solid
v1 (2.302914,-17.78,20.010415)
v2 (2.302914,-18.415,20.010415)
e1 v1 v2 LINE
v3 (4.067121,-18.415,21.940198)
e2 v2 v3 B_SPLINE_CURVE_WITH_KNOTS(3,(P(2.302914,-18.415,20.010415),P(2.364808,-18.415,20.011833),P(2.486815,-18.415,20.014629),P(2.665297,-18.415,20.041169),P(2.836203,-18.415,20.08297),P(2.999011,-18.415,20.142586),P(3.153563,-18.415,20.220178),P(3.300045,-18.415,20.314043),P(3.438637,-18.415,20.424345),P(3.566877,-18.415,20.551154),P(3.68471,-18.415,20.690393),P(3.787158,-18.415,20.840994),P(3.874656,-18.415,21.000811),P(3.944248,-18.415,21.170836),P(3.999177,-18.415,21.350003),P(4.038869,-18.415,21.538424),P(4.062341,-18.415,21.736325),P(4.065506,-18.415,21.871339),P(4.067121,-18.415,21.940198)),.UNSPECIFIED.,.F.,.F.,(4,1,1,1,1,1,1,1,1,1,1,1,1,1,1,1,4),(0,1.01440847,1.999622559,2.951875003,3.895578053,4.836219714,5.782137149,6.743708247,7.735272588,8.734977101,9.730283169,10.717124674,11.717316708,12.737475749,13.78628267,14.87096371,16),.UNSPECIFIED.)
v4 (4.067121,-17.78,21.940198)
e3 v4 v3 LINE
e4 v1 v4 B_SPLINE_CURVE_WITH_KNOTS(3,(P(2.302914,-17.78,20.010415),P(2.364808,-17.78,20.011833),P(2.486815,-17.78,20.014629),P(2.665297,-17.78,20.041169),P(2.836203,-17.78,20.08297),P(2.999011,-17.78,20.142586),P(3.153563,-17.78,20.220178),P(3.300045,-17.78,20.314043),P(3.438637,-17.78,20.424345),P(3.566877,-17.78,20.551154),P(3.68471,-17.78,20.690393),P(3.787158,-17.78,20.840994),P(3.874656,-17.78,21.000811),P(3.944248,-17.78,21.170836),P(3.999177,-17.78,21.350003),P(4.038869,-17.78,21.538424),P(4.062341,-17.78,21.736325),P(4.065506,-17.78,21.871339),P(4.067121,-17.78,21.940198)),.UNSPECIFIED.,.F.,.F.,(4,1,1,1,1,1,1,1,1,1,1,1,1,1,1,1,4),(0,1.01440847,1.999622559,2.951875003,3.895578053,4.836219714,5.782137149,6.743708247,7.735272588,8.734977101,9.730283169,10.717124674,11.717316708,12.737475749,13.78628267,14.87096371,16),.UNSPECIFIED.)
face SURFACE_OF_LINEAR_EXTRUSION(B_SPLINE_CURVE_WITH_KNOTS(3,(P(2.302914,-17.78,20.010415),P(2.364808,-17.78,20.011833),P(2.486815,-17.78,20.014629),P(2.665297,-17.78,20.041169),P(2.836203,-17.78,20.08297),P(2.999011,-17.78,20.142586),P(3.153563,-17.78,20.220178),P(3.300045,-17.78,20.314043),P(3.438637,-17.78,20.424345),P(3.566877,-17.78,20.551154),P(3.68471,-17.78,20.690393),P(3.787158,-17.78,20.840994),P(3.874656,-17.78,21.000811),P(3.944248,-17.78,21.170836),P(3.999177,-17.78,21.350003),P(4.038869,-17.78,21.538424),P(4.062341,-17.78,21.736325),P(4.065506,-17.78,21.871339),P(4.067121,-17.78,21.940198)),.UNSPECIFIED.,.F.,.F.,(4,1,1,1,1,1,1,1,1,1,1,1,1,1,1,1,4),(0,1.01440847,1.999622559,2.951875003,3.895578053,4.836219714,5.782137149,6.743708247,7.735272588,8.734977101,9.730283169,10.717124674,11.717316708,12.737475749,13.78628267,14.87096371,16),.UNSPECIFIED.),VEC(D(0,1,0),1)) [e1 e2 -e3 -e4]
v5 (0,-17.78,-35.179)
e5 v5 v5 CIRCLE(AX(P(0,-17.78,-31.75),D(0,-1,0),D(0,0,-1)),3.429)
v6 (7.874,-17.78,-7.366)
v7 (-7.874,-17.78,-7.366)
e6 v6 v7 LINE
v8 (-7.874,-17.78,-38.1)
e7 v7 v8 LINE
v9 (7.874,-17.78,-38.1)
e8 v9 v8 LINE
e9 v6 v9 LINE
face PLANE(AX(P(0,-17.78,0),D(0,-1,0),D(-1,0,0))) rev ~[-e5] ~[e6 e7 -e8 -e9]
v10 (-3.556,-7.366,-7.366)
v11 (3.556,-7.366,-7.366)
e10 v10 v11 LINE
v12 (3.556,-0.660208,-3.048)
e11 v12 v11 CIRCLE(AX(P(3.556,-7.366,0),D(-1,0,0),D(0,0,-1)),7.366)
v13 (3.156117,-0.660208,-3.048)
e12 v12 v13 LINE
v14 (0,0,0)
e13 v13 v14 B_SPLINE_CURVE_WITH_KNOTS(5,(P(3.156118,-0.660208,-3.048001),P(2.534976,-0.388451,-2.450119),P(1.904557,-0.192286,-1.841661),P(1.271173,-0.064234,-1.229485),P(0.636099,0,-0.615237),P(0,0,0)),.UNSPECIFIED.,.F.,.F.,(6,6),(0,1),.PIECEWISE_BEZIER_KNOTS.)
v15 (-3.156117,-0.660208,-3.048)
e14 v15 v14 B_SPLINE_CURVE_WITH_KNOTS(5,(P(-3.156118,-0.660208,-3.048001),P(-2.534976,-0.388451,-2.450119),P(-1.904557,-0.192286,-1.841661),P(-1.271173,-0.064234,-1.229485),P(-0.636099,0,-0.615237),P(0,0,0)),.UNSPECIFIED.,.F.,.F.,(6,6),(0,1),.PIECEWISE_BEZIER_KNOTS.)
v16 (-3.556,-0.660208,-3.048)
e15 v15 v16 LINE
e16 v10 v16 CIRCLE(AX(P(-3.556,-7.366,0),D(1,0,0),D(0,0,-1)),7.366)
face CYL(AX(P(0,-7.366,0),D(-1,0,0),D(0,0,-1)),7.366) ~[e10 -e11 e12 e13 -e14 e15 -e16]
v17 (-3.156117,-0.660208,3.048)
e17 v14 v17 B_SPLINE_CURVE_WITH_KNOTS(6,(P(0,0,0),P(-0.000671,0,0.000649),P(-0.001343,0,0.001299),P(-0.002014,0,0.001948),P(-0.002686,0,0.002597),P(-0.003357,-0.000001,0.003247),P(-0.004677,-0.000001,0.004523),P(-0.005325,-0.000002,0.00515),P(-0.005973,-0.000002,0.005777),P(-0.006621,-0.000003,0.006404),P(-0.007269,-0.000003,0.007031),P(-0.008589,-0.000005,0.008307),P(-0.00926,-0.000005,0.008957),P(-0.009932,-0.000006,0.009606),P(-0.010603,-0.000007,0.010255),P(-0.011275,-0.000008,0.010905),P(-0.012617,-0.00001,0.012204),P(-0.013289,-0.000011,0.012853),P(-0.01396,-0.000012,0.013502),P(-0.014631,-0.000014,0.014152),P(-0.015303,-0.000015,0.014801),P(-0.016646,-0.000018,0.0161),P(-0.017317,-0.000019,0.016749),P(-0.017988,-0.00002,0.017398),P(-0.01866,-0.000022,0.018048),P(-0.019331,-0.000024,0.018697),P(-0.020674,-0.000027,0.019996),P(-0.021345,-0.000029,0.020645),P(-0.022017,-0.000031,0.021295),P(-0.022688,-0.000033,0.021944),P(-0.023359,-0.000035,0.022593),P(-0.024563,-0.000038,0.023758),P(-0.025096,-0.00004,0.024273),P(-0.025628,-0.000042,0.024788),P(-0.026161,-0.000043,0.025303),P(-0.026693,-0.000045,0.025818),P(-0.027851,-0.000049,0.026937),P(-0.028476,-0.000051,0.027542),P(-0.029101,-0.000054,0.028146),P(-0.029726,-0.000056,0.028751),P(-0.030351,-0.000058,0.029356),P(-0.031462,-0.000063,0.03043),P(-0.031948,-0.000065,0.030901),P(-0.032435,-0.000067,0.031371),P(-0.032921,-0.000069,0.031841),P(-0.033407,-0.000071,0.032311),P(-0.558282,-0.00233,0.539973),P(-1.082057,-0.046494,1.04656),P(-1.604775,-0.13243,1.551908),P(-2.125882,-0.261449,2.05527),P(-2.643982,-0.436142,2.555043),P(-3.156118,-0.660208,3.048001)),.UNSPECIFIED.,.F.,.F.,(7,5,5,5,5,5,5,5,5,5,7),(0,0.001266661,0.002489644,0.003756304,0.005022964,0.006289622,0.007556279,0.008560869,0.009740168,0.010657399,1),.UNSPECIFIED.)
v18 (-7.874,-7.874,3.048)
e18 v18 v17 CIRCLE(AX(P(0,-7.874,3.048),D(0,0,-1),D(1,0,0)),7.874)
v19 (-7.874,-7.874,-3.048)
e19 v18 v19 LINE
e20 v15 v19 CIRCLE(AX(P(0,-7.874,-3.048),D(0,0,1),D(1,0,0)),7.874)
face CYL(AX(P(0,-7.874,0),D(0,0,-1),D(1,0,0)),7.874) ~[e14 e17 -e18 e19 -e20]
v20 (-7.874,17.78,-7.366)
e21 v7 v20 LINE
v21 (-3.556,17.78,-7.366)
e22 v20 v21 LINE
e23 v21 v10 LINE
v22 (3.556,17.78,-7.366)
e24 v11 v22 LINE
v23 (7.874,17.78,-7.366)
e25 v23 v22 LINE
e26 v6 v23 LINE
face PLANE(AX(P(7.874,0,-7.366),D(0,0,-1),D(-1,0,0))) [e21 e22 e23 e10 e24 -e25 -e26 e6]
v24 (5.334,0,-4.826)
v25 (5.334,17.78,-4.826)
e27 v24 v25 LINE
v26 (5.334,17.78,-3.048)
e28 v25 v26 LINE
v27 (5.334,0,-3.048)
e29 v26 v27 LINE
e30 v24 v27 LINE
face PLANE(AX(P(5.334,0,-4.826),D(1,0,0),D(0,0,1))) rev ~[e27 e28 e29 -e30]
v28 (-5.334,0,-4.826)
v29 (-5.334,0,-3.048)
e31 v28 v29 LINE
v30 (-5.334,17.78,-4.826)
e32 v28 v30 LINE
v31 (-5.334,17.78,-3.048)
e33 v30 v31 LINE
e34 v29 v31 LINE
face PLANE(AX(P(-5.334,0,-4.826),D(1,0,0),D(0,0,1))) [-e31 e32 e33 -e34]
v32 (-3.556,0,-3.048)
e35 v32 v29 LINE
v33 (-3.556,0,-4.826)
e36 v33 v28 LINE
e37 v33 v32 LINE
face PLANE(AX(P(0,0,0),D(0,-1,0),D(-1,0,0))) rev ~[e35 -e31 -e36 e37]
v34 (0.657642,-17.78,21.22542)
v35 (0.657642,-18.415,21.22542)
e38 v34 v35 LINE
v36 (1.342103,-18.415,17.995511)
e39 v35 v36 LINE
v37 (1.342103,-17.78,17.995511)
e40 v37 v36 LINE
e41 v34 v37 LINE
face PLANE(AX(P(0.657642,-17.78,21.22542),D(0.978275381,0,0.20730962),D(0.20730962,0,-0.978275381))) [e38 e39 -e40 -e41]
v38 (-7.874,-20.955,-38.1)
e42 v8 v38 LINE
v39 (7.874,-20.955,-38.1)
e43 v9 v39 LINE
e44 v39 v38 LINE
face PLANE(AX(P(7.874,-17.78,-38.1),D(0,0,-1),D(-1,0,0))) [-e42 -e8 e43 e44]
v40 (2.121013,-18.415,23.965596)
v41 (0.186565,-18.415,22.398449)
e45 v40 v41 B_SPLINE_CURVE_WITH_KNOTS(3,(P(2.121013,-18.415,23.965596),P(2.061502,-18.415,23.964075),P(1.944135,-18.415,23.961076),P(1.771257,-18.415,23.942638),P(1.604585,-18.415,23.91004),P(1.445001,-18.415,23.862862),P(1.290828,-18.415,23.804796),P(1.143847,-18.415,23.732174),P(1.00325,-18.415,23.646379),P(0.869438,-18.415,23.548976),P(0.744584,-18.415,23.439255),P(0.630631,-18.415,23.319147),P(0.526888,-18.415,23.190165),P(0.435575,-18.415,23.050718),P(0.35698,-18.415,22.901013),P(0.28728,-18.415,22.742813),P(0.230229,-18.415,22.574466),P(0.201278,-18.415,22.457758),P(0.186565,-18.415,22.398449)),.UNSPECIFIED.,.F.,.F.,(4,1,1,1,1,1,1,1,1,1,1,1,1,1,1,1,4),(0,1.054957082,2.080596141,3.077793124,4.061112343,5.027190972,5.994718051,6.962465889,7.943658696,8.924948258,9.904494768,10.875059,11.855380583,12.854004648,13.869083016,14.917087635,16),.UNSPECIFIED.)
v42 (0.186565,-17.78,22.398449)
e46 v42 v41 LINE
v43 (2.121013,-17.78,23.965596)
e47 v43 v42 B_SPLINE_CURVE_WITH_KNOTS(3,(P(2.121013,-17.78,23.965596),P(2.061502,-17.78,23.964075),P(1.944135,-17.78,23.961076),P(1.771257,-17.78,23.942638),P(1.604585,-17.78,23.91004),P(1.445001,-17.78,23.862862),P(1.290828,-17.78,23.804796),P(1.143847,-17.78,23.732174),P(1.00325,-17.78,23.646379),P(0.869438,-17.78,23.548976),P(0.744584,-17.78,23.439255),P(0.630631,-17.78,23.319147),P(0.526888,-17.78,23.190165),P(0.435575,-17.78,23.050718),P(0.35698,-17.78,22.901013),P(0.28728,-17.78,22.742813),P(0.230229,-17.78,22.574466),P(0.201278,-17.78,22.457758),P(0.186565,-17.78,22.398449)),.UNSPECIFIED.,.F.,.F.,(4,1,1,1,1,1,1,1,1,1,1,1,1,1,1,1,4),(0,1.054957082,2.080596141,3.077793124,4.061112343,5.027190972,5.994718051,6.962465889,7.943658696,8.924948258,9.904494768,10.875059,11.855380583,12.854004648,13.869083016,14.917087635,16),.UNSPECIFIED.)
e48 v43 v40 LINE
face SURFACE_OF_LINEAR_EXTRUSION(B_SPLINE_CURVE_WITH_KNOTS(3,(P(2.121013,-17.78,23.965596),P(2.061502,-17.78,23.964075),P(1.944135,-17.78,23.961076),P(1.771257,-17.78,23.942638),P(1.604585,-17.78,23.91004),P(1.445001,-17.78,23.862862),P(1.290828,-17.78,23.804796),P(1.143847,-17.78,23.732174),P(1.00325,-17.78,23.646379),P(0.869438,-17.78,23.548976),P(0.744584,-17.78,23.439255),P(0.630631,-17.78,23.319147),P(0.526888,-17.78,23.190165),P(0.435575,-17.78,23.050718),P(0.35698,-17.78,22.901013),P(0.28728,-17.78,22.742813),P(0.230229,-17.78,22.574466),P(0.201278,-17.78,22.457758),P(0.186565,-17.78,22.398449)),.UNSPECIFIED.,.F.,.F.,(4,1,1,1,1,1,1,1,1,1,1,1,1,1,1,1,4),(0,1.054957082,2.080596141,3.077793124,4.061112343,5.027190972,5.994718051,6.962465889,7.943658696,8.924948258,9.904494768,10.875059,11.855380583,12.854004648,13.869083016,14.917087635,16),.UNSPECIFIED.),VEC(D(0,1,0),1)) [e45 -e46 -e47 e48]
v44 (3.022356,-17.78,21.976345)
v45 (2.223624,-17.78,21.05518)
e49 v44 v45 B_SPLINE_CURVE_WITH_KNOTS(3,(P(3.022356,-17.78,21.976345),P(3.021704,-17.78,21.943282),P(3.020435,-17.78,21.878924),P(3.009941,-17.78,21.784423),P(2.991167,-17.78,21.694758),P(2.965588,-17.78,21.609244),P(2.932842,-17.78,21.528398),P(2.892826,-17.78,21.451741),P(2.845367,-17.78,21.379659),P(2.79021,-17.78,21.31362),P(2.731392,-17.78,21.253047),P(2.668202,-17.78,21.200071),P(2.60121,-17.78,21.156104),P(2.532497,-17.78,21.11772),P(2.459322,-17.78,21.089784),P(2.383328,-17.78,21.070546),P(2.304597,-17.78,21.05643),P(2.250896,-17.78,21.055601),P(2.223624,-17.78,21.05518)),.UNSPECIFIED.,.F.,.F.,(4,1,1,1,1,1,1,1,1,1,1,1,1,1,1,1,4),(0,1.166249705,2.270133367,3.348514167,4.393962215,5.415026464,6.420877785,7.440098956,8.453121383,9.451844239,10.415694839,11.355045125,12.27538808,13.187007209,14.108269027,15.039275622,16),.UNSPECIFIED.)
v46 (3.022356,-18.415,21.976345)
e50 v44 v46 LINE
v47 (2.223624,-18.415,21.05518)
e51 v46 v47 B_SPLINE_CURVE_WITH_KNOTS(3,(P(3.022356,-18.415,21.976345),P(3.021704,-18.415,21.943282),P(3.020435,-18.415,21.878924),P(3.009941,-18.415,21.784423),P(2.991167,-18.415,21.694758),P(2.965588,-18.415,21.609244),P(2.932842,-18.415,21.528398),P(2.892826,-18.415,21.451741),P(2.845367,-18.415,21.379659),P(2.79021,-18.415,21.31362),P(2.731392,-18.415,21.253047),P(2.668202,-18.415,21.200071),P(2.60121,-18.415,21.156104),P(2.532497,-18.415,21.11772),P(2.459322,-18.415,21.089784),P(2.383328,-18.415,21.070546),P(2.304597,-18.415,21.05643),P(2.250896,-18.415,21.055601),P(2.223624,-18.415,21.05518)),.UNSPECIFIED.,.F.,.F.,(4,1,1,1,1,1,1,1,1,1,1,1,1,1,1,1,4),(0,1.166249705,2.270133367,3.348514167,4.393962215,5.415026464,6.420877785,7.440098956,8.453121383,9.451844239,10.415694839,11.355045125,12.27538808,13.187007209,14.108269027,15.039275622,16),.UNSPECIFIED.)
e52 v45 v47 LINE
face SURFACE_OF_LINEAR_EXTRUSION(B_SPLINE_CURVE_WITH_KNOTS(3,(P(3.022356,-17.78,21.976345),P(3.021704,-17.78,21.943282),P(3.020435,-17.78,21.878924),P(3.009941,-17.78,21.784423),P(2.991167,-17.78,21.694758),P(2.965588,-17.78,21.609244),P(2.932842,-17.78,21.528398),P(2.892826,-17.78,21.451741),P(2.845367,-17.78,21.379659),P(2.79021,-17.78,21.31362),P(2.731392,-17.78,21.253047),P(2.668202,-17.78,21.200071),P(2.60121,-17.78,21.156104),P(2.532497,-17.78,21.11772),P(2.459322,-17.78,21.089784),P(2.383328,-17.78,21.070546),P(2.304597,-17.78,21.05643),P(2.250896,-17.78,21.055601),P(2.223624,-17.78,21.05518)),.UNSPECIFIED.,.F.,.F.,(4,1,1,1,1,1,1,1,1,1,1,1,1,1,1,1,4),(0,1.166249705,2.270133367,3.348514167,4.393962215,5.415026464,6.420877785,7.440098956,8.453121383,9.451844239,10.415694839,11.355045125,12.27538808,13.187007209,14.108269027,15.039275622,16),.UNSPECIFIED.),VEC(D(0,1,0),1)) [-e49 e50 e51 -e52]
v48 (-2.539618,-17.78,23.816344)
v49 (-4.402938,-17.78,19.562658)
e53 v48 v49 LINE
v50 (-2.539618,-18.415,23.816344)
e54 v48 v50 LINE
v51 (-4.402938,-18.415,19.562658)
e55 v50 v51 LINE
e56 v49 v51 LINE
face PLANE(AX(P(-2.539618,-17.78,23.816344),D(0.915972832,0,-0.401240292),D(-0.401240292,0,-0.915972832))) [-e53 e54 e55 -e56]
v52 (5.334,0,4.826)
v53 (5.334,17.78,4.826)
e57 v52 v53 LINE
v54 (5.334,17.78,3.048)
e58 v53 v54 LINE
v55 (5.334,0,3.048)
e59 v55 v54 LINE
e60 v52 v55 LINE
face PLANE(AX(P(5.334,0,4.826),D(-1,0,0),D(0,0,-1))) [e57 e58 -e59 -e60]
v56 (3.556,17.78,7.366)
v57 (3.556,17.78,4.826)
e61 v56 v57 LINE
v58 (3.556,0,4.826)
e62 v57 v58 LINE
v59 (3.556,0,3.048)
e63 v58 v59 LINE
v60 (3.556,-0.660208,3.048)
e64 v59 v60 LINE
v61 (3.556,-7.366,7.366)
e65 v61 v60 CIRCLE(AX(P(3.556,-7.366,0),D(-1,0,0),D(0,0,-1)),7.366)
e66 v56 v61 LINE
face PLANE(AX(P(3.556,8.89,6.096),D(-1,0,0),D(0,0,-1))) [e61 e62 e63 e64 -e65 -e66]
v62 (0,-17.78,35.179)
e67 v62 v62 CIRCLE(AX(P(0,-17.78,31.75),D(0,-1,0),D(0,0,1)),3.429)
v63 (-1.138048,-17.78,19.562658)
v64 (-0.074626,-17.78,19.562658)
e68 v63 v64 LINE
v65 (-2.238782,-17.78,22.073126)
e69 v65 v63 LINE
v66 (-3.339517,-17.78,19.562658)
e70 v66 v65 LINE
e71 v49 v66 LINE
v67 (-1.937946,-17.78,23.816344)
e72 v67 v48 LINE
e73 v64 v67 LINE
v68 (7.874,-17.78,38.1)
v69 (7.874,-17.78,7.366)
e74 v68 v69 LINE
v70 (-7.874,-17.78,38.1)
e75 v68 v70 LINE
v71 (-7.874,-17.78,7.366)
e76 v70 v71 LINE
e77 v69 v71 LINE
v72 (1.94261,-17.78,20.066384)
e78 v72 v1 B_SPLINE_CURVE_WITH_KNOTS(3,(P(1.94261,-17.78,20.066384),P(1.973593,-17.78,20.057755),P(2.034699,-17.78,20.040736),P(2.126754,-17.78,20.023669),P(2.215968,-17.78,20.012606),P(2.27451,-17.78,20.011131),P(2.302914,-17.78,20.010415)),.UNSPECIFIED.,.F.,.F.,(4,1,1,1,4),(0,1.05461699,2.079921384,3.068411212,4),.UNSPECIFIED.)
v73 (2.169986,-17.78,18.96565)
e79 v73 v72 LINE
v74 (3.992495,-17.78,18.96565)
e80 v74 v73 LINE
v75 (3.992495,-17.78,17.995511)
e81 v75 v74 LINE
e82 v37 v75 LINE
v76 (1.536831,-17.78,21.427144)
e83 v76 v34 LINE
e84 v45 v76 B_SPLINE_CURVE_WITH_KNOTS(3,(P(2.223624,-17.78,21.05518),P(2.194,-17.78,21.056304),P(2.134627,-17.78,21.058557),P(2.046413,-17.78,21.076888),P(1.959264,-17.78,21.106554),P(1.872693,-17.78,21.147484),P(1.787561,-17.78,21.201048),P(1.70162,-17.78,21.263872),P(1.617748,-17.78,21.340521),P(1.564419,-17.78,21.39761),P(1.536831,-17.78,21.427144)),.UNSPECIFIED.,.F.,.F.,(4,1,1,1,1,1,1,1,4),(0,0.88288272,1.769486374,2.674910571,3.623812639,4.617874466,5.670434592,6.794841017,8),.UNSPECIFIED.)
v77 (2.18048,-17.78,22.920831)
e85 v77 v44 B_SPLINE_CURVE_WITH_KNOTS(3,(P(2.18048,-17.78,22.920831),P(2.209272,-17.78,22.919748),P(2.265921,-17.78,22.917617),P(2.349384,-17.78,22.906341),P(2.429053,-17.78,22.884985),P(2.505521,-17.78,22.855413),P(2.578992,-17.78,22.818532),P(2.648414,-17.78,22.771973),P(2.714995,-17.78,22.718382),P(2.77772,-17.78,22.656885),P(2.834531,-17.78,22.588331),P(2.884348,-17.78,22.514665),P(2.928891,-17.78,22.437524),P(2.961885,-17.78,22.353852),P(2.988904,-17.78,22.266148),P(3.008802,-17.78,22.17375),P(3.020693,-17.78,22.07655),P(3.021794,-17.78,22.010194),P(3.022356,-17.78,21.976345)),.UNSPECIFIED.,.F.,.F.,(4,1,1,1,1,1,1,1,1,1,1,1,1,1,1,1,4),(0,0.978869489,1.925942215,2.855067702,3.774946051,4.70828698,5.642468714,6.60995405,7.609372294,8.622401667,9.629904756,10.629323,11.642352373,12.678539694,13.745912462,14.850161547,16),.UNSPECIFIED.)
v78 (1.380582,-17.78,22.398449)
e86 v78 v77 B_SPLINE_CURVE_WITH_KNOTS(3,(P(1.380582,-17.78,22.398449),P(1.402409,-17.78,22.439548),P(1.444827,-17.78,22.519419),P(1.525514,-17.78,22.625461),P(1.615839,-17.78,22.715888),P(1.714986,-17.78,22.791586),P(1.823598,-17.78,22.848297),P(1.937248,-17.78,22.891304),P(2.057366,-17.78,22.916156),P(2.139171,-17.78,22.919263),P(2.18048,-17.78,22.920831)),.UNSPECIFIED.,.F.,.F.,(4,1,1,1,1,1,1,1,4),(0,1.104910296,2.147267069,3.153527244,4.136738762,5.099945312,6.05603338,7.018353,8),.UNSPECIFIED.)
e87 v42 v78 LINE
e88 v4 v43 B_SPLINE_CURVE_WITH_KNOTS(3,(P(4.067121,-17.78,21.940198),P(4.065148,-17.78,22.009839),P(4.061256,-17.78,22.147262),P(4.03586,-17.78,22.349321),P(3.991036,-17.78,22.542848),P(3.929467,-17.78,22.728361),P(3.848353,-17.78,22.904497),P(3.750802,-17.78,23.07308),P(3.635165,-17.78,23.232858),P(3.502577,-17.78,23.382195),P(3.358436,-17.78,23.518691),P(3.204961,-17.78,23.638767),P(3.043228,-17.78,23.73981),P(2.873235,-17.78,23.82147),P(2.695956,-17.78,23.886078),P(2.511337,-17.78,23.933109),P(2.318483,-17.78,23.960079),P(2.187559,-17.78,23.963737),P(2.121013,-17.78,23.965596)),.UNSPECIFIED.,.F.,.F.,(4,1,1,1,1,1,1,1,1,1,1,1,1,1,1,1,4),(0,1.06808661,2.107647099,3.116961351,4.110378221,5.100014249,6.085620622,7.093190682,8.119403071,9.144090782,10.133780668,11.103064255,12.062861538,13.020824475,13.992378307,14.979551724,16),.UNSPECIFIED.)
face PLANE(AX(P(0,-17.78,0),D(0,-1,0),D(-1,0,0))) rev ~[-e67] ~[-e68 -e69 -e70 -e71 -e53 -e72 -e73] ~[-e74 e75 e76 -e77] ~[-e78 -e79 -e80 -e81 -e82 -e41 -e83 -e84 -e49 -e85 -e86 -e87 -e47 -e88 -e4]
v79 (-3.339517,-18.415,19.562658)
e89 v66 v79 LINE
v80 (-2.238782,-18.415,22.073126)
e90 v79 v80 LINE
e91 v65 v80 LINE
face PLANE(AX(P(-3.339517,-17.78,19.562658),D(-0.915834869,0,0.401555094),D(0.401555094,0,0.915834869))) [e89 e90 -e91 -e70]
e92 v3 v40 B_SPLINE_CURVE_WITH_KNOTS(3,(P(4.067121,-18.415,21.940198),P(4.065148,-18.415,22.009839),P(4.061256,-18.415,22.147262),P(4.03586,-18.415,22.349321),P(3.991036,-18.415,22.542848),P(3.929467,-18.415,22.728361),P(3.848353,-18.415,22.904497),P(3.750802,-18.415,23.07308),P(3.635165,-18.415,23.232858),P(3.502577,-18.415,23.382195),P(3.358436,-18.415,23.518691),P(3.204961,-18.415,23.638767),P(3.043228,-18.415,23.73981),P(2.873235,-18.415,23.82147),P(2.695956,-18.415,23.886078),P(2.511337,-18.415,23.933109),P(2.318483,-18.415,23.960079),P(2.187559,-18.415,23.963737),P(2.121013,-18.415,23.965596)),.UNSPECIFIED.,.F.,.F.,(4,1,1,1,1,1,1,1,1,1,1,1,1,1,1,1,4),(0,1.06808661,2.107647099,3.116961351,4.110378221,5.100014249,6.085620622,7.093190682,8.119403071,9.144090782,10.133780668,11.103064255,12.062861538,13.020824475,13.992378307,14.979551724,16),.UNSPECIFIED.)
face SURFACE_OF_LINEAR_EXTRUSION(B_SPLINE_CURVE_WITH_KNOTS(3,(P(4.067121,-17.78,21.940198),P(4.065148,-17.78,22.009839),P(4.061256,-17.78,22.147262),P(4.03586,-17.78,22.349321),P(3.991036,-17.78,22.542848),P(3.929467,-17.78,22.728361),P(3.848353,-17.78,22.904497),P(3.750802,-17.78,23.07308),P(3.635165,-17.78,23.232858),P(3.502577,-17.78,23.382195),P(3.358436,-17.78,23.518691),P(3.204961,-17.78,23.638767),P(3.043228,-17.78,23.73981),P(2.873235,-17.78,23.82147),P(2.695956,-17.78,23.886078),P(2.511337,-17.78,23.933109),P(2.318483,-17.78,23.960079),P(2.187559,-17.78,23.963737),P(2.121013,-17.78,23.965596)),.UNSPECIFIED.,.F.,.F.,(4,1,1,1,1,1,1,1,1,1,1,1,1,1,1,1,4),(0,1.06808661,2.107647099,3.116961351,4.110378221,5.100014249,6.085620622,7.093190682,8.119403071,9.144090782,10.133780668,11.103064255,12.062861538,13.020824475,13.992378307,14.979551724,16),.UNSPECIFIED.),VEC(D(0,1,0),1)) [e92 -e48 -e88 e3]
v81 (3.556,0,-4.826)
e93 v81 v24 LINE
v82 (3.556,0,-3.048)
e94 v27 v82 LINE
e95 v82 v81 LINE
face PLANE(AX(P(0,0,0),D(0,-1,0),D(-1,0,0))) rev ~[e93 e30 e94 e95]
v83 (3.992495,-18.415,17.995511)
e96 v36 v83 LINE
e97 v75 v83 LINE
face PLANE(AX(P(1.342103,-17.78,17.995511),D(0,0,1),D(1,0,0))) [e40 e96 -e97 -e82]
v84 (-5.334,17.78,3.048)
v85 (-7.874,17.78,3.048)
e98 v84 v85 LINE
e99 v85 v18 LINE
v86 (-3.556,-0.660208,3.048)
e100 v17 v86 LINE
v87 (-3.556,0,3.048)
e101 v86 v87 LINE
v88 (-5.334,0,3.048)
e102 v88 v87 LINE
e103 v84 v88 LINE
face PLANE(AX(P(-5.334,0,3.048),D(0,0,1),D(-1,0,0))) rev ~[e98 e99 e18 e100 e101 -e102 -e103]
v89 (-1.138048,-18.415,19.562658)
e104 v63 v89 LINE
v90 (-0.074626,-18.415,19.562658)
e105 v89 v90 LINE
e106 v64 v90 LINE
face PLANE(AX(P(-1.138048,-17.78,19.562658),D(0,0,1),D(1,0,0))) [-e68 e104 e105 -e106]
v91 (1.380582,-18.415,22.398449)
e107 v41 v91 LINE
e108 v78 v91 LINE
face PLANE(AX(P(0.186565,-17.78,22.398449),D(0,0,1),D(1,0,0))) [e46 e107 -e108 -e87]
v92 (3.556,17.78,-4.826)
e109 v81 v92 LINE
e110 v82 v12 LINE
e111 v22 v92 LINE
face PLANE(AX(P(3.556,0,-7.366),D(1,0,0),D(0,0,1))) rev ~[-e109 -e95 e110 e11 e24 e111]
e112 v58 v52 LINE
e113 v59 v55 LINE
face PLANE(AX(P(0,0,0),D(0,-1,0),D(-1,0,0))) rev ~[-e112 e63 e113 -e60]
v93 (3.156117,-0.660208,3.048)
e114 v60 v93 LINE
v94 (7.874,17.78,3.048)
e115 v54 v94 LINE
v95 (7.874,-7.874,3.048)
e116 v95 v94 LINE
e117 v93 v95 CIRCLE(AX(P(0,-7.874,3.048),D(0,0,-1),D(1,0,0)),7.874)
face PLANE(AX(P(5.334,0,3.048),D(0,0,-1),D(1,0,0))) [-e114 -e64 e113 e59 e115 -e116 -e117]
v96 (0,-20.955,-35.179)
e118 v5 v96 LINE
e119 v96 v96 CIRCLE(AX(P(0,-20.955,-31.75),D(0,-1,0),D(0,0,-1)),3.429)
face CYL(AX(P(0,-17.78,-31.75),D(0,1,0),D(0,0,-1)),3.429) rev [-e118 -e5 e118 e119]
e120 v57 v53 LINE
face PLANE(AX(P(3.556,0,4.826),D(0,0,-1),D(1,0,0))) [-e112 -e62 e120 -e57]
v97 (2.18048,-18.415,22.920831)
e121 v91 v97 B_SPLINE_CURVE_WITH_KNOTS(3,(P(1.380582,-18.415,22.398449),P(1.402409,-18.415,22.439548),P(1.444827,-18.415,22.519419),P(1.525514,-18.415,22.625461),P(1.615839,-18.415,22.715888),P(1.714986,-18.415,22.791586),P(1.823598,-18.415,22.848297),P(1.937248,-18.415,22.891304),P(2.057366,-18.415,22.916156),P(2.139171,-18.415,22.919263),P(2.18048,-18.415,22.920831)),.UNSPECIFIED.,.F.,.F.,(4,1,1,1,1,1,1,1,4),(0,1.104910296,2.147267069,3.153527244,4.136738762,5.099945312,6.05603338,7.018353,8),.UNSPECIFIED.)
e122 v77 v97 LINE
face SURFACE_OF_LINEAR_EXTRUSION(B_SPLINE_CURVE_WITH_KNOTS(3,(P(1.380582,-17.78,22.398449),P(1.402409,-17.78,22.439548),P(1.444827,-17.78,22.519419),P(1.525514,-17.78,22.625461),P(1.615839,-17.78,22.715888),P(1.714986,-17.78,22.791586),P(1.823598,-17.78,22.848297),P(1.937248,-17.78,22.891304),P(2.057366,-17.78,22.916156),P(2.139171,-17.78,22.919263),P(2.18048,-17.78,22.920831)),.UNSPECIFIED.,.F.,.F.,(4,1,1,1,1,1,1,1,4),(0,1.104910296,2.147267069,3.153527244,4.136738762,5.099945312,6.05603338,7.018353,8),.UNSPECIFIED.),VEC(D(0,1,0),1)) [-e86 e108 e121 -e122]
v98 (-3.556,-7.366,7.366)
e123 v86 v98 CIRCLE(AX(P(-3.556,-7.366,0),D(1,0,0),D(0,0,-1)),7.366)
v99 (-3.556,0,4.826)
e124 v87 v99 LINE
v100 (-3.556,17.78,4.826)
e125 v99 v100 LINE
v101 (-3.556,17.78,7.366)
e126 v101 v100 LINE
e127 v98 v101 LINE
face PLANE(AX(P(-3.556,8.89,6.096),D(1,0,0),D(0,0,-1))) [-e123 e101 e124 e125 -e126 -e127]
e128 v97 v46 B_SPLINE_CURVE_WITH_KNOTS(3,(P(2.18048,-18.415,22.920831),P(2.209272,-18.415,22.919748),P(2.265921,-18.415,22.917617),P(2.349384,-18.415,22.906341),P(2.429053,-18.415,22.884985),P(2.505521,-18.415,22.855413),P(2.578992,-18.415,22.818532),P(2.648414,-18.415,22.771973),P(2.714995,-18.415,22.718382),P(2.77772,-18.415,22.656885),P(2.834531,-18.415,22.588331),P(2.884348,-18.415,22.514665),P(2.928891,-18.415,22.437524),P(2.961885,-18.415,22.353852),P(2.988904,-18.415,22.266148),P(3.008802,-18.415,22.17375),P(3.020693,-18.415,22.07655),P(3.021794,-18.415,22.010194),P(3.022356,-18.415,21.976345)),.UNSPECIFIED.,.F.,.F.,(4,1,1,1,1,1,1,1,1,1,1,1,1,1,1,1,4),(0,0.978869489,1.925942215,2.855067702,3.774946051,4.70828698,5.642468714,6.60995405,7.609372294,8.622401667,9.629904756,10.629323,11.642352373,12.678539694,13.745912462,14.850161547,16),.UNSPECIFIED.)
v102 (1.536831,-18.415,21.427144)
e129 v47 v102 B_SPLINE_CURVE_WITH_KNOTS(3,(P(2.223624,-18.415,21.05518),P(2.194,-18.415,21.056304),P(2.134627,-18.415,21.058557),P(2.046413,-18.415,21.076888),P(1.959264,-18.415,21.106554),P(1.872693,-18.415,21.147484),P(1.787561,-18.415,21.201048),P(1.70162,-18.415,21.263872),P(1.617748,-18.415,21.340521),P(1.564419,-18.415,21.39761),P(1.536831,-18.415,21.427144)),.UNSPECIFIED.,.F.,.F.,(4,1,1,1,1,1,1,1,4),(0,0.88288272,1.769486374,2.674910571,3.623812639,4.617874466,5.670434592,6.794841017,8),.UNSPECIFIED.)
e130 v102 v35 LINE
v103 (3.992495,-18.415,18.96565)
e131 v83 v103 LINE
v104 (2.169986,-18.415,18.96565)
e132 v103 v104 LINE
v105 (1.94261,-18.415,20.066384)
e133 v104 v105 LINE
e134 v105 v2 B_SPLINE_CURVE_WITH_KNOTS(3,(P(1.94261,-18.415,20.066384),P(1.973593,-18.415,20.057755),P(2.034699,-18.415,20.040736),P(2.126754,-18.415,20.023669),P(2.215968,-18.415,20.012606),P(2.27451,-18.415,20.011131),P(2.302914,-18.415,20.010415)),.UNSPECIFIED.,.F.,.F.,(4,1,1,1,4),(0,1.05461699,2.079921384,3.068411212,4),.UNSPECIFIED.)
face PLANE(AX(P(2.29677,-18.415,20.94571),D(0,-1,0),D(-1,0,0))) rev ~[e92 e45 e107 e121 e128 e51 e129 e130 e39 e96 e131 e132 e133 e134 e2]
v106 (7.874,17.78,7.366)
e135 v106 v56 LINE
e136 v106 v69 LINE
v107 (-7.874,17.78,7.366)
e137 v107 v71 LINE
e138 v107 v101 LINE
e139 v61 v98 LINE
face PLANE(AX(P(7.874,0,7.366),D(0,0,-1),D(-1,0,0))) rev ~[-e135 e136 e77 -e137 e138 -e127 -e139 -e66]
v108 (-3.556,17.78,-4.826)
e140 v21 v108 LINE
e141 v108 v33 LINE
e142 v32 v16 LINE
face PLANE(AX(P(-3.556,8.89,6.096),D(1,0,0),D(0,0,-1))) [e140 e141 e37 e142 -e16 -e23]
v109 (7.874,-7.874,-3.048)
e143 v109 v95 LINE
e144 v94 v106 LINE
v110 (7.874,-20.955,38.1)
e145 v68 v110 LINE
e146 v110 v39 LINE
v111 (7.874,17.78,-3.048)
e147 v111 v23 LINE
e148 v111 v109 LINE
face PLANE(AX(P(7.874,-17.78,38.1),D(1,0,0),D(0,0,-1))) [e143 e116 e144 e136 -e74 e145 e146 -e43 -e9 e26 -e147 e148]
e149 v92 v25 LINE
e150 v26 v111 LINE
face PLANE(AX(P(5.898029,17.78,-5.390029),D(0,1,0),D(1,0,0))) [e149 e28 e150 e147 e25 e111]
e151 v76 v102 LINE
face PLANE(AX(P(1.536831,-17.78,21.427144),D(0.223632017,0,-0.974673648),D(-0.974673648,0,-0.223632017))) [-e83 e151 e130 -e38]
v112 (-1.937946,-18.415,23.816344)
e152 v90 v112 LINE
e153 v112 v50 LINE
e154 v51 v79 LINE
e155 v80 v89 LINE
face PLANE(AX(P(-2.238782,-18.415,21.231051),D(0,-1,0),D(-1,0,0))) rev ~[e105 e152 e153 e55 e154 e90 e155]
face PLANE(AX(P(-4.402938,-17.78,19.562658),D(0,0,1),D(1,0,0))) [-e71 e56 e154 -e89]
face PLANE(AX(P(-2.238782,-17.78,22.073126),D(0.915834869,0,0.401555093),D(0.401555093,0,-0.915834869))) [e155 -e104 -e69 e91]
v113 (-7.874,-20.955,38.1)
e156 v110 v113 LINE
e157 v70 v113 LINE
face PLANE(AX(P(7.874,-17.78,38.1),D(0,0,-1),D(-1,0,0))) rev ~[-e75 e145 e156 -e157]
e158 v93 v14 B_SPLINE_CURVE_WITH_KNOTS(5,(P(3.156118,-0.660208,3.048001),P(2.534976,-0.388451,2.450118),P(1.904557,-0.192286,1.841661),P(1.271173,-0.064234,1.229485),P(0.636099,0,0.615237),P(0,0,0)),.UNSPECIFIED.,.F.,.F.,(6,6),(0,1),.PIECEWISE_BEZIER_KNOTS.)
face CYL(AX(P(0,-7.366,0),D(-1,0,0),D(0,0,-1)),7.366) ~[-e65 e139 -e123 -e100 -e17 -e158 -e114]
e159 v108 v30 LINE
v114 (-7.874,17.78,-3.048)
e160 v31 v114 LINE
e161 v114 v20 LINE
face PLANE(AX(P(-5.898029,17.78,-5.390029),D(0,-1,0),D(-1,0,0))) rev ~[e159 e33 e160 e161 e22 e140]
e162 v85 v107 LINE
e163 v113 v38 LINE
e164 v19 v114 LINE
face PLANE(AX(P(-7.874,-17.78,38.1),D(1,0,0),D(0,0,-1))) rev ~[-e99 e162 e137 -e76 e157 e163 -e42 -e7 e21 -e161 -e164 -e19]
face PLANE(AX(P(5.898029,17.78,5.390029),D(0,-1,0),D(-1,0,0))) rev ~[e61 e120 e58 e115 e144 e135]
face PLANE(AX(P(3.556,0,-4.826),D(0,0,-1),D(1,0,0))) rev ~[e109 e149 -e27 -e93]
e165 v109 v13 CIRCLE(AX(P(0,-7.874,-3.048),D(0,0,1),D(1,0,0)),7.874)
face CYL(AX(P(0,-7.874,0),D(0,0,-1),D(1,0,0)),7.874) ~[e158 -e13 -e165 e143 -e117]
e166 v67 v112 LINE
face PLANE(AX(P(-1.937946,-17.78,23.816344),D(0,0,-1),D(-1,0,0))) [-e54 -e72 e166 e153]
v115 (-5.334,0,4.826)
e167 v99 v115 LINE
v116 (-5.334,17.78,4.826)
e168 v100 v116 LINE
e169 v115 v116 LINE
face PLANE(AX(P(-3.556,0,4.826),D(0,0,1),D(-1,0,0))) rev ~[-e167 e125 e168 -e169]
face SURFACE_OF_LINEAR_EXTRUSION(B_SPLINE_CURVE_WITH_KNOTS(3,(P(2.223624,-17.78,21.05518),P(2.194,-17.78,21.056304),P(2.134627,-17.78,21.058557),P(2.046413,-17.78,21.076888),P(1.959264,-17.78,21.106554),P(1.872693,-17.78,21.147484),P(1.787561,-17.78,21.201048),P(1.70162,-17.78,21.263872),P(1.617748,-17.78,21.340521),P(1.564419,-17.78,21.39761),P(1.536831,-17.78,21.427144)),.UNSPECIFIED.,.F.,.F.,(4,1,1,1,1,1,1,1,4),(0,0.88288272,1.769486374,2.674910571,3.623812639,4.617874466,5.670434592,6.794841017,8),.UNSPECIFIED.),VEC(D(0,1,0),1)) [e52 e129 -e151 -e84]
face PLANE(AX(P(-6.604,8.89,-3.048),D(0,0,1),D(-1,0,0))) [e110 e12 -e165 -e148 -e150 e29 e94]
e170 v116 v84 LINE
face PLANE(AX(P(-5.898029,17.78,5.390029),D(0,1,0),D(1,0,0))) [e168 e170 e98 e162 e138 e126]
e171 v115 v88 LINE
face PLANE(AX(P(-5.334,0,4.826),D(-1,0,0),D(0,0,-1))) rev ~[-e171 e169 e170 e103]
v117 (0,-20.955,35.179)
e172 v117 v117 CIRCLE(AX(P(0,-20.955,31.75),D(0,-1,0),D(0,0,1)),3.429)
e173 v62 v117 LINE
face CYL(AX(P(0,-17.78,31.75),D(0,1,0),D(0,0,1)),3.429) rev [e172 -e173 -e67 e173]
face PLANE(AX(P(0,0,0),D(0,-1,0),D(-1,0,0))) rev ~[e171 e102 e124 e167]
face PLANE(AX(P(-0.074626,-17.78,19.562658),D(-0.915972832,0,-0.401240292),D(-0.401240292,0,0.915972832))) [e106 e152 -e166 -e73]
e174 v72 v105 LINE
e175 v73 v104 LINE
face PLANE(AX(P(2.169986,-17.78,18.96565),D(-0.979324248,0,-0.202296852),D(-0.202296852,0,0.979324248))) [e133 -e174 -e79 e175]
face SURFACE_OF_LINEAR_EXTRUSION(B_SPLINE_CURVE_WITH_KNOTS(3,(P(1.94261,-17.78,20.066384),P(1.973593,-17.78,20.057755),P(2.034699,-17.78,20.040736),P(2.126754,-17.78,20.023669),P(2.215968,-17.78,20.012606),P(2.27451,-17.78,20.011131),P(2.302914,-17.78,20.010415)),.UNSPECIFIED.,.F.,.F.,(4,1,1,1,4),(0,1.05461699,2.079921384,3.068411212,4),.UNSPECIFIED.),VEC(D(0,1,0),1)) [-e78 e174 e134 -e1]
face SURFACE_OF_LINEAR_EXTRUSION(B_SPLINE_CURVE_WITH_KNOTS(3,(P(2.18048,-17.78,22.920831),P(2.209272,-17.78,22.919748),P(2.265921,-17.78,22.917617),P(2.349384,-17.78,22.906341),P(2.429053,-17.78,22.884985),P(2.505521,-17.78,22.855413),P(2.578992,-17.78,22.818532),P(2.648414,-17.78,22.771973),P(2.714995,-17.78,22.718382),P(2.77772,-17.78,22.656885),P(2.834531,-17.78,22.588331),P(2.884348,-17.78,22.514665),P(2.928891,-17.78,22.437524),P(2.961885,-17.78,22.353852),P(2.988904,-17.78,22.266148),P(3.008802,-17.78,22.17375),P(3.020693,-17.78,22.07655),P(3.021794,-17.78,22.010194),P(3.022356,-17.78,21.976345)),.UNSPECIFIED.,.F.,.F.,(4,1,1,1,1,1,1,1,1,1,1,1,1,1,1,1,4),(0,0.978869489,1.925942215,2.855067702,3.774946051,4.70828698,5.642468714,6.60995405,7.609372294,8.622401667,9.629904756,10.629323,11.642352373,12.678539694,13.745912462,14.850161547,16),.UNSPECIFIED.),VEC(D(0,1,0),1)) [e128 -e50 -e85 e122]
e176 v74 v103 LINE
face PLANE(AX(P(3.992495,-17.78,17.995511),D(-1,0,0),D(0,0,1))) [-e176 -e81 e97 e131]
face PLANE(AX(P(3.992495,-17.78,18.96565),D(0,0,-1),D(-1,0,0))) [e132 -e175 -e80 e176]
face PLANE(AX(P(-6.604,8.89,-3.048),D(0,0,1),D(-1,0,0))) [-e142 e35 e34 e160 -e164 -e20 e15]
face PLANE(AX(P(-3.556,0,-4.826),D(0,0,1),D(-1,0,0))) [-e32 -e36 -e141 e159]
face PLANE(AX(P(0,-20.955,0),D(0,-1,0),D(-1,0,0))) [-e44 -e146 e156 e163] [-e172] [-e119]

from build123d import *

# Parameters (mm, degrees)
BOSS_EXTRUDE1_DEPTH            = 17.78
BOSS_EXTRUDE1_2_DEPTH          = 17.78
BOSS_EXTRUDE1_3_DEPTH          = 17.78
BOSS_EXTRUDE1_4_DEPTH          = 17.78
SKETCH2_W                      = 15.748
SKETCH2_H                      = 14.732
BOSS_EXTRUDE2_DEPTH            = 17.78
SKETCH3_W                      = 15.748
SKETCH3_H                      = 76.2
SKETCH3_R                      = 3.429
BOSS_EXTRUDE3_DEPTH            = 3.175
CUT_EXTRUDE3_DEPTH             = 0.635
CUT_EXTRUDE4_REACH             = 46.19
CUT_EXTRUDE4_DIRECTION_2_REACH = 46.19
CUT_EXTRUDE5_REACH             = 46.19
CUT_EXTRUDE5_DIRECTION_2_REACH = 46.19


with BuildPart() as part:
    # Sketch1 → Boss-Extrude1 (new body)
    with BuildSketch(Plane(origin=(0, 0, 0), x_dir=(1, 0, 0), z_dir=(0, 1, 0))):
        Polygon((-5.334, 4.826), (-5.334, 3.048), (-7.874, 3.048), (-7.874, 7.366), (-3.556, 7.366), (-3.556, 4.826), align=None)
    extrude(amount=BOSS_EXTRUDE1_DEPTH)



with BuildPart() as body_2:
    # Sketch1 → Boss-Extrude1 2 (new body)
    with BuildSketch(Plane(origin=(0, 0, 0), x_dir=(1, 0, 0), z_dir=(0, 1, 0))):
        Polygon((7.874, 3.048), (7.874, 7.366), (3.556, 7.366), (3.556, 4.826), (5.334, 4.826), (5.334, 3.048), align=None)
    extrude(amount=BOSS_EXTRUDE1_2_DEPTH)


with BuildPart() as body_3:
    # Sketch1 → Boss-Extrude1 3 (new body)
    with BuildSketch(Plane(origin=(0, 0, 0), x_dir=(1, 0, 0), z_dir=(0, 1, 0))):
        Polygon((5.334, -3.048), (7.874, -3.048), (7.874, -7.366), (3.556, -7.366), (3.556, -4.826), (5.334, -4.826), align=None)
    extrude(amount=BOSS_EXTRUDE1_3_DEPTH)


with BuildPart() as body_4:
    # Sketch1 → Boss-Extrude1 4 (new body)
    with BuildSketch(Plane(origin=(0, 0, 0), x_dir=(1, 0, 0), z_dir=(0, 1, 0))):
        Polygon((-5.334, -3.048), (-7.874, -3.048), (-7.874, -7.366), (-3.556, -7.366), (-3.556, -4.826), (-5.334, -4.826), align=None)
    extrude(amount=BOSS_EXTRUDE1_4_DEPTH)


with BuildPart() as part_1:
    add(part.part)

    add(body_2.part)  # Boss-Extrude2 merges body 2

    add(body_3.part)  # Boss-Extrude2 merges body 3

    add(body_4.part)  # Boss-Extrude2 merges body 4
    # Sketch2 → Boss-Extrude2 (add)
    with BuildSketch(Plane(origin=(0, 0, 0), x_dir=(-1, 0, 0), z_dir=(0, -1, 0))):
        Rectangle(SKETCH2_W, SKETCH2_H)
    extrude(amount=BOSS_EXTRUDE2_DEPTH)

    # Sketch3 → Boss-Extrude3 (add)
    with BuildSketch(Plane(origin=(0, -17.78, 0), x_dir=(-1, 0, 0), z_dir=(0, -1, 0))):
        Rectangle(SKETCH3_W, SKETCH3_H)
        with Locations(Location((0, 31.75, 0), (0, 0, 90))):
            Circle(SKETCH3_R, mode=Mode.SUBTRACT)
        with Locations(Location((0, -31.75, 0), (0, 0, 270))):
            Circle(SKETCH3_R, mode=Mode.SUBTRACT)
    extrude(amount=BOSS_EXTRUDE3_DEPTH)

    # Sketch5 → Cut-Extrude3 (cut)
    with BuildSketch(Plane(origin=(0, -17.78, 0), x_dir=(1, 0, 0), z_dir=(0, 1, 0))):
        Polygon((-4.402938034, -19.56265828), (-3.33951656, -19.56265828), (-2.238782051, -22.073125862), (-1.138047543, -19.56265828), (-0.074626068, -19.56265828), (-1.937945713, -23.816344178), (-2.539618389, -23.816344178), align=None)
        with BuildLine():
            Line((1.342103198, -17.995510844), (3.992494658, -17.995510844))
            Line((3.992494658, -17.995510844), (3.992494658, -18.965649733))
            Line((3.992494658, -18.965649733), (2.169986144, -18.965649733))
            Line((2.169986144, -18.965649733), (1.942609842, -20.066384242))
            add(Edge.make_bspline(
                [(1.942609842, -20.066384242), (1.973593118, -20.057755008), (2.034698504, -20.040736387), (2.126753844, -20.023668863), (2.215968297, -20.012606236), (2.274510277, -20.011130629), (2.302913829, -20.01041469)],
                knots=[0, 0, 0, 0, 1.05461699, 2.079921384, 3.068411212, 4, 4, 4, 4], degree=3))
            add(Edge.make_bspline(
                [(2.302913829, -20.01041469), (2.364808143, -20.011832963), (2.486815471, -20.01462869), (2.66529671, -20.04116926), (2.83620304, -20.082969854), (2.999011469, -20.142586126), (3.153562954, -20.220178243), (3.300044843, -20.314042954), (3.438636917, -20.42434512), (3.566877199, -20.551153798), (3.684709726, -20.690392598), (3.787158388, -20.840994093), (3.874655939, -21.000810853), (3.944248465, -21.170836295), (3.99917682, -21.350002545), (4.038869276, -21.538424417), (4.062341408, -21.736325221), (4.065506481, -21.87133879), (4.067120726, -21.940198177)],
                knots=[0, 0, 0, 0, 1.01440847, 1.999622559, 2.951875003, 3.895578053, 4.836219714, 5.782137149, 6.743708247, 7.735272588, 8.734977101, 9.730283169, 10.717124674, 11.717316708, 12.737475749, 13.78628267, 14.87096371, 16, 16, 16, 16], degree=3))
            add(Edge.make_bspline(
                [(4.067120726, -21.940198177), (4.065148093, -22.009839278), (4.061255511, -22.147261527), (4.035859977, -22.349320843), (3.991036403, -22.542848052), (3.92946674, -22.728361222), (3.848352651, -22.904496875), (3.750801857, -23.073079646), (3.635165037, -23.232858198), (3.502576985, -23.382194608), (3.358436381, -23.518690953), (3.204960663, -23.63876705), (3.043228044, -23.739810112), (2.873234622, -23.821469989), (2.695955704, -23.88607783), (2.511337482, -23.933109254), (2.318482737, -23.960079163), (2.187559423, -23.963737055), (2.121012787, -23.965596314)],
                knots=[0, 0, 0, 0, 1.06808661, 2.107647099, 3.116961351, 4.110378221, 5.100014249, 6.085620622, 7.093190682, 8.119403071, 9.144090782, 10.133780668, 11.103064255, 12.062861538, 13.020824475, 13.992378307, 14.979551724, 16, 16, 16, 16], degree=3))
            add(Edge.make_bspline(
                [(2.121012787, -23.965596314), (2.061502111, -23.964075324), (1.944134605, -23.961075614), (1.77125742, -23.942637813), (1.604584616, -23.910039607), (1.445001044, -23.862861563), (1.290827618, -23.804796161), (1.143846625, -23.732174402), (1.003250382, -23.646379103), (0.869438127, -23.54897603), (0.744584119, -23.439255246), (0.630630611, -23.319146944), (0.526887714, -23.19016503), (0.435575361, -23.050718259), (0.356979792, -22.901012655), (0.287279637, -22.742812535), (0.230229362, -22.574465784), (0.201277991, -22.457758463), (0.186565171, -22.398448878)],
                knots=[0, 0, 0, 0, 1.054957082, 2.080596141, 3.077793124, 4.061112343, 5.027190972, 5.994718051, 6.962465889, 7.943658696, 8.924948258, 9.904494768, 10.875059, 11.855380583, 12.854004648, 13.869083016, 14.917087635, 16, 16, 16, 16], degree=3))
            Line((0.186565171, -22.398448878), (1.380582265, -22.398448878))
            add(Edge.make_bspline(
                [(1.380582265, -22.398448878), (1.402408926, -22.439548005), (1.444826552, -22.519419468), (1.525514253, -22.625460837), (1.615839012, -22.71588836), (1.71498605, -22.791585534), (1.823597778, -22.848296569), (1.937248474, -22.891303595), (2.057365883, -22.916155762), (2.139171142, -22.919262529), (2.180480435, -22.920831357)],
                knots=[0, 0, 0, 0, 1.104910296, 2.147267069, 3.153527244, 4.136738762, 5.099945312, 6.05603338, 7.018353, 8, 8, 8, 8], degree=3))
            add(Edge.make_bspline(
                [(2.180480435, -22.920831357), (2.209272459, -22.919748068), (2.265921249, -22.917616678), (2.349384285, -22.906341091), (2.429053419, -22.884985384), (2.505520973, -22.855412696), (2.578992357, -22.818532212), (2.648414335, -22.771973005), (2.714994724, -22.718381632), (2.777719899, -22.656885349), (2.834530829, -22.588331299), (2.884347799, -22.514665298), (2.928891041, -22.437524221), (2.961884902, -22.353852317), (2.988904083, -22.266148059), (3.008802101, -22.173749865), (3.020693411, -22.076549824), (3.021794228, -22.01019408), (3.022355769, -21.976345179)],
                knots=[0, 0, 0, 0, 0.978869489, 1.925942215, 2.855067702, 3.774946051, 4.70828698, 5.642468714, 6.60995405, 7.609372294, 8.622401667, 9.629904756, 10.629323, 11.642352373, 12.678539694, 13.745912462, 14.850161547, 16, 16, 16, 16], degree=3))
            add(Edge.make_bspline(
                [(3.022355769, -21.976345179), (3.021704036, -21.943281988), (3.020435422, -21.878923684), (3.009941194, -21.784422641), (2.99116722, -21.694758253), (2.965587521, -21.609243759), (2.932842452, -21.528398443), (2.892825789, -21.451741076), (2.845366576, -21.379659132), (2.790210015, -21.31362013), (2.731391627, -21.253047278), (2.668201777, -21.200070745), (2.601209774, -21.156103901), (2.532497311, -21.117719567), (2.459321633, -21.089784285), (2.383328169, -21.070546287), (2.304596835, -21.056430218), (2.250895901, -21.055600847), (2.223623631, -21.055179648)],
                knots=[0, 0, 0, 0, 1.166249705, 2.270133367, 3.348514167, 4.393962215, 5.415026464, 6.420877785, 7.440098956, 8.453121383, 9.451844239, 10.415694839, 11.355045125, 12.27538808, 13.187007209, 14.108269027, 15.039275622, 16, 16, 16, 16], degree=3))
            add(Edge.make_bspline(
                [(2.223623631, -21.055179648), (2.193999608, -21.056303715), (2.13462671, -21.058556587), (2.046413445, -21.076887601), (1.959263786, -21.106554059), (1.872693092, -21.14748364), (1.787560727, -21.201047546), (1.701620007, -21.263871867), (1.617747551, -21.340521386), (1.56441911, -21.397610121), (1.536830596, -21.427143957)],
                knots=[0, 0, 0, 0, 0.88288272, 1.769486374, 2.674910571, 3.623812639, 4.617874466, 5.670434592, 6.794841017, 8, 8, 8, 8], degree=3))
            Line((1.536830596, -21.427143957), (0.657642228, -21.225420366))
            Line((0.657642228, -21.225420366), (1.342103198, -17.995510844))
        make_face()
    extrude(amount=-CUT_EXTRUDE3_DEPTH, mode=Mode.SUBTRACT)

    # Cut-Extrude4: up to this face of the body (flat: up to its plane)
    cut_extrude4_end = Plane(part_1.part.faces().sort_by_distance((-3.556, 8.89, 6.096))[0])
    # Sketch6 → Cut-Extrude4 (cut, up to the picked face)
    with BuildSketch(Plane(origin=(0, 0, 0), x_dir=(0, 0, -1), z_dir=(1, 0, 0)), mode=Mode.PRIVATE) as cut_extrude4_sk1:
        with BuildLine():
            Line((-7.366, -7.366), (-7.366, 2.54))
            Line((-7.366, 2.54), (7.366, 2.54))
            Line((7.366, 2.54), (7.366, -7.366))
            ThreePointArc((7.366, -7.366), (0, 0), (-7.366, -7.366))
        make_face()
    cut_extrude4_tool1 = split(extrude(cut_extrude4_sk1.sketch, amount=-CUT_EXTRUDE4_REACH, mode=Mode.PRIVATE), bisect_by=cut_extrude4_end, keep=Keep.BOTH, mode=Mode.PRIVATE)
    add(cut_extrude4_tool1.solids().sort_by(Axis((0, 0.151656, 0), (-1, 0, 0)))[0], mode=Mode.SUBTRACT)

    # Cut-Extrude4 direction 2: up to this face of the body (flat: up to its plane)
    cut_extrude4_direction_2_end = Plane(part_1.part.faces().sort_by_distance((3.556, 8.89, 6.096))[0])
    # Sketch6 → Cut-Extrude4 direction 2 (cut, up to the picked face)
    with BuildSketch(Plane(origin=(0, 0, 0), x_dir=(0, 0, -1), z_dir=(1, 0, 0)), mode=Mode.PRIVATE) as cut_extrude4_direction_2_sk1:
        with BuildLine():
            Line((-7.366, -7.366), (-7.366, 2.54))
            Line((-7.366, 2.54), (7.366, 2.54))
            Line((7.366, 2.54), (7.366, -7.366))
            ThreePointArc((7.366, -7.366), (0, 0), (-7.366, -7.366))
        make_face()
    cut_extrude4_direction_2_tool1 = split(extrude(cut_extrude4_direction_2_sk1.sketch, amount=CUT_EXTRUDE4_DIRECTION_2_REACH, mode=Mode.PRIVATE), bisect_by=cut_extrude4_direction_2_end, keep=Keep.BOTH, mode=Mode.PRIVATE)
    add(cut_extrude4_direction_2_tool1.solids().sort_by(Axis((0, 0.151656, 0), (1, 0, 0)))[0], mode=Mode.SUBTRACT)

    # Cut-Extrude5: up to this face of the body (flat: up to its plane)
    cut_extrude5_end = Plane(part_1.part.faces().sort_by_distance((-6.604, 8.89, -3.048))[0])
    # Sketch7 → Cut-Extrude5 (cut, up to the picked face)
    with BuildSketch(Plane.XY, mode=Mode.PRIVATE) as cut_extrude5_sk1:
        with BuildLine():
            Line((-7.874, -7.874), (-7.874, 4.538671937))
            Line((-7.874, 4.538671937), (7.874, 4.538671937))
            Line((7.874, 4.538671937), (7.874, -7.874))
            ThreePointArc((7.874, -7.874), (0, 0), (-7.874, -7.874))
        make_face()
    cut_extrude5_tool1 = split(extrude(cut_extrude5_sk1.sketch, amount=-CUT_EXTRUDE5_REACH, mode=Mode.PRIVATE), bisect_by=cut_extrude5_end, keep=Keep.BOTH, mode=Mode.PRIVATE)
    add(cut_extrude5_tool1.solids().sort_by(Axis((0, 1.176505, 0), (0, 0, -1)))[0], mode=Mode.SUBTRACT)

    # Cut-Extrude5 direction 2: up to this face of the body (flat: up to its plane)
    cut_extrude5_direction_2_end = Plane(part_1.part.faces().sort_by_distance((-6.604, 8.89, 3.048))[0])
    # Sketch7 → Cut-Extrude5 direction 2 (cut, up to the picked face)
    with BuildSketch(Plane.XY, mode=Mode.PRIVATE) as cut_extrude5_direction_2_sk1:
        with BuildLine():
            Line((-7.874, -7.874), (-7.874, 4.538671937))
            Line((-7.874, 4.538671937), (7.874, 4.538671937))
            Line((7.874, 4.538671937), (7.874, -7.874))
            ThreePointArc((7.874, -7.874), (0, 0), (-7.874, -7.874))
        make_face()
    cut_extrude5_direction_2_tool1 = split(extrude(cut_extrude5_direction_2_sk1.sketch, amount=CUT_EXTRUDE5_DIRECTION_2_REACH, mode=Mode.PRIVATE), bisect_by=cut_extrude5_direction_2_end, keep=Keep.BOTH, mode=Mode.PRIVATE)
    add(cut_extrude5_direction_2_tool1.solids().sort_by(Axis((0, 1.176505, 0), (0, 0, 1)))[0], mode=Mode.SUBTRACT)


solid = part_1.part
